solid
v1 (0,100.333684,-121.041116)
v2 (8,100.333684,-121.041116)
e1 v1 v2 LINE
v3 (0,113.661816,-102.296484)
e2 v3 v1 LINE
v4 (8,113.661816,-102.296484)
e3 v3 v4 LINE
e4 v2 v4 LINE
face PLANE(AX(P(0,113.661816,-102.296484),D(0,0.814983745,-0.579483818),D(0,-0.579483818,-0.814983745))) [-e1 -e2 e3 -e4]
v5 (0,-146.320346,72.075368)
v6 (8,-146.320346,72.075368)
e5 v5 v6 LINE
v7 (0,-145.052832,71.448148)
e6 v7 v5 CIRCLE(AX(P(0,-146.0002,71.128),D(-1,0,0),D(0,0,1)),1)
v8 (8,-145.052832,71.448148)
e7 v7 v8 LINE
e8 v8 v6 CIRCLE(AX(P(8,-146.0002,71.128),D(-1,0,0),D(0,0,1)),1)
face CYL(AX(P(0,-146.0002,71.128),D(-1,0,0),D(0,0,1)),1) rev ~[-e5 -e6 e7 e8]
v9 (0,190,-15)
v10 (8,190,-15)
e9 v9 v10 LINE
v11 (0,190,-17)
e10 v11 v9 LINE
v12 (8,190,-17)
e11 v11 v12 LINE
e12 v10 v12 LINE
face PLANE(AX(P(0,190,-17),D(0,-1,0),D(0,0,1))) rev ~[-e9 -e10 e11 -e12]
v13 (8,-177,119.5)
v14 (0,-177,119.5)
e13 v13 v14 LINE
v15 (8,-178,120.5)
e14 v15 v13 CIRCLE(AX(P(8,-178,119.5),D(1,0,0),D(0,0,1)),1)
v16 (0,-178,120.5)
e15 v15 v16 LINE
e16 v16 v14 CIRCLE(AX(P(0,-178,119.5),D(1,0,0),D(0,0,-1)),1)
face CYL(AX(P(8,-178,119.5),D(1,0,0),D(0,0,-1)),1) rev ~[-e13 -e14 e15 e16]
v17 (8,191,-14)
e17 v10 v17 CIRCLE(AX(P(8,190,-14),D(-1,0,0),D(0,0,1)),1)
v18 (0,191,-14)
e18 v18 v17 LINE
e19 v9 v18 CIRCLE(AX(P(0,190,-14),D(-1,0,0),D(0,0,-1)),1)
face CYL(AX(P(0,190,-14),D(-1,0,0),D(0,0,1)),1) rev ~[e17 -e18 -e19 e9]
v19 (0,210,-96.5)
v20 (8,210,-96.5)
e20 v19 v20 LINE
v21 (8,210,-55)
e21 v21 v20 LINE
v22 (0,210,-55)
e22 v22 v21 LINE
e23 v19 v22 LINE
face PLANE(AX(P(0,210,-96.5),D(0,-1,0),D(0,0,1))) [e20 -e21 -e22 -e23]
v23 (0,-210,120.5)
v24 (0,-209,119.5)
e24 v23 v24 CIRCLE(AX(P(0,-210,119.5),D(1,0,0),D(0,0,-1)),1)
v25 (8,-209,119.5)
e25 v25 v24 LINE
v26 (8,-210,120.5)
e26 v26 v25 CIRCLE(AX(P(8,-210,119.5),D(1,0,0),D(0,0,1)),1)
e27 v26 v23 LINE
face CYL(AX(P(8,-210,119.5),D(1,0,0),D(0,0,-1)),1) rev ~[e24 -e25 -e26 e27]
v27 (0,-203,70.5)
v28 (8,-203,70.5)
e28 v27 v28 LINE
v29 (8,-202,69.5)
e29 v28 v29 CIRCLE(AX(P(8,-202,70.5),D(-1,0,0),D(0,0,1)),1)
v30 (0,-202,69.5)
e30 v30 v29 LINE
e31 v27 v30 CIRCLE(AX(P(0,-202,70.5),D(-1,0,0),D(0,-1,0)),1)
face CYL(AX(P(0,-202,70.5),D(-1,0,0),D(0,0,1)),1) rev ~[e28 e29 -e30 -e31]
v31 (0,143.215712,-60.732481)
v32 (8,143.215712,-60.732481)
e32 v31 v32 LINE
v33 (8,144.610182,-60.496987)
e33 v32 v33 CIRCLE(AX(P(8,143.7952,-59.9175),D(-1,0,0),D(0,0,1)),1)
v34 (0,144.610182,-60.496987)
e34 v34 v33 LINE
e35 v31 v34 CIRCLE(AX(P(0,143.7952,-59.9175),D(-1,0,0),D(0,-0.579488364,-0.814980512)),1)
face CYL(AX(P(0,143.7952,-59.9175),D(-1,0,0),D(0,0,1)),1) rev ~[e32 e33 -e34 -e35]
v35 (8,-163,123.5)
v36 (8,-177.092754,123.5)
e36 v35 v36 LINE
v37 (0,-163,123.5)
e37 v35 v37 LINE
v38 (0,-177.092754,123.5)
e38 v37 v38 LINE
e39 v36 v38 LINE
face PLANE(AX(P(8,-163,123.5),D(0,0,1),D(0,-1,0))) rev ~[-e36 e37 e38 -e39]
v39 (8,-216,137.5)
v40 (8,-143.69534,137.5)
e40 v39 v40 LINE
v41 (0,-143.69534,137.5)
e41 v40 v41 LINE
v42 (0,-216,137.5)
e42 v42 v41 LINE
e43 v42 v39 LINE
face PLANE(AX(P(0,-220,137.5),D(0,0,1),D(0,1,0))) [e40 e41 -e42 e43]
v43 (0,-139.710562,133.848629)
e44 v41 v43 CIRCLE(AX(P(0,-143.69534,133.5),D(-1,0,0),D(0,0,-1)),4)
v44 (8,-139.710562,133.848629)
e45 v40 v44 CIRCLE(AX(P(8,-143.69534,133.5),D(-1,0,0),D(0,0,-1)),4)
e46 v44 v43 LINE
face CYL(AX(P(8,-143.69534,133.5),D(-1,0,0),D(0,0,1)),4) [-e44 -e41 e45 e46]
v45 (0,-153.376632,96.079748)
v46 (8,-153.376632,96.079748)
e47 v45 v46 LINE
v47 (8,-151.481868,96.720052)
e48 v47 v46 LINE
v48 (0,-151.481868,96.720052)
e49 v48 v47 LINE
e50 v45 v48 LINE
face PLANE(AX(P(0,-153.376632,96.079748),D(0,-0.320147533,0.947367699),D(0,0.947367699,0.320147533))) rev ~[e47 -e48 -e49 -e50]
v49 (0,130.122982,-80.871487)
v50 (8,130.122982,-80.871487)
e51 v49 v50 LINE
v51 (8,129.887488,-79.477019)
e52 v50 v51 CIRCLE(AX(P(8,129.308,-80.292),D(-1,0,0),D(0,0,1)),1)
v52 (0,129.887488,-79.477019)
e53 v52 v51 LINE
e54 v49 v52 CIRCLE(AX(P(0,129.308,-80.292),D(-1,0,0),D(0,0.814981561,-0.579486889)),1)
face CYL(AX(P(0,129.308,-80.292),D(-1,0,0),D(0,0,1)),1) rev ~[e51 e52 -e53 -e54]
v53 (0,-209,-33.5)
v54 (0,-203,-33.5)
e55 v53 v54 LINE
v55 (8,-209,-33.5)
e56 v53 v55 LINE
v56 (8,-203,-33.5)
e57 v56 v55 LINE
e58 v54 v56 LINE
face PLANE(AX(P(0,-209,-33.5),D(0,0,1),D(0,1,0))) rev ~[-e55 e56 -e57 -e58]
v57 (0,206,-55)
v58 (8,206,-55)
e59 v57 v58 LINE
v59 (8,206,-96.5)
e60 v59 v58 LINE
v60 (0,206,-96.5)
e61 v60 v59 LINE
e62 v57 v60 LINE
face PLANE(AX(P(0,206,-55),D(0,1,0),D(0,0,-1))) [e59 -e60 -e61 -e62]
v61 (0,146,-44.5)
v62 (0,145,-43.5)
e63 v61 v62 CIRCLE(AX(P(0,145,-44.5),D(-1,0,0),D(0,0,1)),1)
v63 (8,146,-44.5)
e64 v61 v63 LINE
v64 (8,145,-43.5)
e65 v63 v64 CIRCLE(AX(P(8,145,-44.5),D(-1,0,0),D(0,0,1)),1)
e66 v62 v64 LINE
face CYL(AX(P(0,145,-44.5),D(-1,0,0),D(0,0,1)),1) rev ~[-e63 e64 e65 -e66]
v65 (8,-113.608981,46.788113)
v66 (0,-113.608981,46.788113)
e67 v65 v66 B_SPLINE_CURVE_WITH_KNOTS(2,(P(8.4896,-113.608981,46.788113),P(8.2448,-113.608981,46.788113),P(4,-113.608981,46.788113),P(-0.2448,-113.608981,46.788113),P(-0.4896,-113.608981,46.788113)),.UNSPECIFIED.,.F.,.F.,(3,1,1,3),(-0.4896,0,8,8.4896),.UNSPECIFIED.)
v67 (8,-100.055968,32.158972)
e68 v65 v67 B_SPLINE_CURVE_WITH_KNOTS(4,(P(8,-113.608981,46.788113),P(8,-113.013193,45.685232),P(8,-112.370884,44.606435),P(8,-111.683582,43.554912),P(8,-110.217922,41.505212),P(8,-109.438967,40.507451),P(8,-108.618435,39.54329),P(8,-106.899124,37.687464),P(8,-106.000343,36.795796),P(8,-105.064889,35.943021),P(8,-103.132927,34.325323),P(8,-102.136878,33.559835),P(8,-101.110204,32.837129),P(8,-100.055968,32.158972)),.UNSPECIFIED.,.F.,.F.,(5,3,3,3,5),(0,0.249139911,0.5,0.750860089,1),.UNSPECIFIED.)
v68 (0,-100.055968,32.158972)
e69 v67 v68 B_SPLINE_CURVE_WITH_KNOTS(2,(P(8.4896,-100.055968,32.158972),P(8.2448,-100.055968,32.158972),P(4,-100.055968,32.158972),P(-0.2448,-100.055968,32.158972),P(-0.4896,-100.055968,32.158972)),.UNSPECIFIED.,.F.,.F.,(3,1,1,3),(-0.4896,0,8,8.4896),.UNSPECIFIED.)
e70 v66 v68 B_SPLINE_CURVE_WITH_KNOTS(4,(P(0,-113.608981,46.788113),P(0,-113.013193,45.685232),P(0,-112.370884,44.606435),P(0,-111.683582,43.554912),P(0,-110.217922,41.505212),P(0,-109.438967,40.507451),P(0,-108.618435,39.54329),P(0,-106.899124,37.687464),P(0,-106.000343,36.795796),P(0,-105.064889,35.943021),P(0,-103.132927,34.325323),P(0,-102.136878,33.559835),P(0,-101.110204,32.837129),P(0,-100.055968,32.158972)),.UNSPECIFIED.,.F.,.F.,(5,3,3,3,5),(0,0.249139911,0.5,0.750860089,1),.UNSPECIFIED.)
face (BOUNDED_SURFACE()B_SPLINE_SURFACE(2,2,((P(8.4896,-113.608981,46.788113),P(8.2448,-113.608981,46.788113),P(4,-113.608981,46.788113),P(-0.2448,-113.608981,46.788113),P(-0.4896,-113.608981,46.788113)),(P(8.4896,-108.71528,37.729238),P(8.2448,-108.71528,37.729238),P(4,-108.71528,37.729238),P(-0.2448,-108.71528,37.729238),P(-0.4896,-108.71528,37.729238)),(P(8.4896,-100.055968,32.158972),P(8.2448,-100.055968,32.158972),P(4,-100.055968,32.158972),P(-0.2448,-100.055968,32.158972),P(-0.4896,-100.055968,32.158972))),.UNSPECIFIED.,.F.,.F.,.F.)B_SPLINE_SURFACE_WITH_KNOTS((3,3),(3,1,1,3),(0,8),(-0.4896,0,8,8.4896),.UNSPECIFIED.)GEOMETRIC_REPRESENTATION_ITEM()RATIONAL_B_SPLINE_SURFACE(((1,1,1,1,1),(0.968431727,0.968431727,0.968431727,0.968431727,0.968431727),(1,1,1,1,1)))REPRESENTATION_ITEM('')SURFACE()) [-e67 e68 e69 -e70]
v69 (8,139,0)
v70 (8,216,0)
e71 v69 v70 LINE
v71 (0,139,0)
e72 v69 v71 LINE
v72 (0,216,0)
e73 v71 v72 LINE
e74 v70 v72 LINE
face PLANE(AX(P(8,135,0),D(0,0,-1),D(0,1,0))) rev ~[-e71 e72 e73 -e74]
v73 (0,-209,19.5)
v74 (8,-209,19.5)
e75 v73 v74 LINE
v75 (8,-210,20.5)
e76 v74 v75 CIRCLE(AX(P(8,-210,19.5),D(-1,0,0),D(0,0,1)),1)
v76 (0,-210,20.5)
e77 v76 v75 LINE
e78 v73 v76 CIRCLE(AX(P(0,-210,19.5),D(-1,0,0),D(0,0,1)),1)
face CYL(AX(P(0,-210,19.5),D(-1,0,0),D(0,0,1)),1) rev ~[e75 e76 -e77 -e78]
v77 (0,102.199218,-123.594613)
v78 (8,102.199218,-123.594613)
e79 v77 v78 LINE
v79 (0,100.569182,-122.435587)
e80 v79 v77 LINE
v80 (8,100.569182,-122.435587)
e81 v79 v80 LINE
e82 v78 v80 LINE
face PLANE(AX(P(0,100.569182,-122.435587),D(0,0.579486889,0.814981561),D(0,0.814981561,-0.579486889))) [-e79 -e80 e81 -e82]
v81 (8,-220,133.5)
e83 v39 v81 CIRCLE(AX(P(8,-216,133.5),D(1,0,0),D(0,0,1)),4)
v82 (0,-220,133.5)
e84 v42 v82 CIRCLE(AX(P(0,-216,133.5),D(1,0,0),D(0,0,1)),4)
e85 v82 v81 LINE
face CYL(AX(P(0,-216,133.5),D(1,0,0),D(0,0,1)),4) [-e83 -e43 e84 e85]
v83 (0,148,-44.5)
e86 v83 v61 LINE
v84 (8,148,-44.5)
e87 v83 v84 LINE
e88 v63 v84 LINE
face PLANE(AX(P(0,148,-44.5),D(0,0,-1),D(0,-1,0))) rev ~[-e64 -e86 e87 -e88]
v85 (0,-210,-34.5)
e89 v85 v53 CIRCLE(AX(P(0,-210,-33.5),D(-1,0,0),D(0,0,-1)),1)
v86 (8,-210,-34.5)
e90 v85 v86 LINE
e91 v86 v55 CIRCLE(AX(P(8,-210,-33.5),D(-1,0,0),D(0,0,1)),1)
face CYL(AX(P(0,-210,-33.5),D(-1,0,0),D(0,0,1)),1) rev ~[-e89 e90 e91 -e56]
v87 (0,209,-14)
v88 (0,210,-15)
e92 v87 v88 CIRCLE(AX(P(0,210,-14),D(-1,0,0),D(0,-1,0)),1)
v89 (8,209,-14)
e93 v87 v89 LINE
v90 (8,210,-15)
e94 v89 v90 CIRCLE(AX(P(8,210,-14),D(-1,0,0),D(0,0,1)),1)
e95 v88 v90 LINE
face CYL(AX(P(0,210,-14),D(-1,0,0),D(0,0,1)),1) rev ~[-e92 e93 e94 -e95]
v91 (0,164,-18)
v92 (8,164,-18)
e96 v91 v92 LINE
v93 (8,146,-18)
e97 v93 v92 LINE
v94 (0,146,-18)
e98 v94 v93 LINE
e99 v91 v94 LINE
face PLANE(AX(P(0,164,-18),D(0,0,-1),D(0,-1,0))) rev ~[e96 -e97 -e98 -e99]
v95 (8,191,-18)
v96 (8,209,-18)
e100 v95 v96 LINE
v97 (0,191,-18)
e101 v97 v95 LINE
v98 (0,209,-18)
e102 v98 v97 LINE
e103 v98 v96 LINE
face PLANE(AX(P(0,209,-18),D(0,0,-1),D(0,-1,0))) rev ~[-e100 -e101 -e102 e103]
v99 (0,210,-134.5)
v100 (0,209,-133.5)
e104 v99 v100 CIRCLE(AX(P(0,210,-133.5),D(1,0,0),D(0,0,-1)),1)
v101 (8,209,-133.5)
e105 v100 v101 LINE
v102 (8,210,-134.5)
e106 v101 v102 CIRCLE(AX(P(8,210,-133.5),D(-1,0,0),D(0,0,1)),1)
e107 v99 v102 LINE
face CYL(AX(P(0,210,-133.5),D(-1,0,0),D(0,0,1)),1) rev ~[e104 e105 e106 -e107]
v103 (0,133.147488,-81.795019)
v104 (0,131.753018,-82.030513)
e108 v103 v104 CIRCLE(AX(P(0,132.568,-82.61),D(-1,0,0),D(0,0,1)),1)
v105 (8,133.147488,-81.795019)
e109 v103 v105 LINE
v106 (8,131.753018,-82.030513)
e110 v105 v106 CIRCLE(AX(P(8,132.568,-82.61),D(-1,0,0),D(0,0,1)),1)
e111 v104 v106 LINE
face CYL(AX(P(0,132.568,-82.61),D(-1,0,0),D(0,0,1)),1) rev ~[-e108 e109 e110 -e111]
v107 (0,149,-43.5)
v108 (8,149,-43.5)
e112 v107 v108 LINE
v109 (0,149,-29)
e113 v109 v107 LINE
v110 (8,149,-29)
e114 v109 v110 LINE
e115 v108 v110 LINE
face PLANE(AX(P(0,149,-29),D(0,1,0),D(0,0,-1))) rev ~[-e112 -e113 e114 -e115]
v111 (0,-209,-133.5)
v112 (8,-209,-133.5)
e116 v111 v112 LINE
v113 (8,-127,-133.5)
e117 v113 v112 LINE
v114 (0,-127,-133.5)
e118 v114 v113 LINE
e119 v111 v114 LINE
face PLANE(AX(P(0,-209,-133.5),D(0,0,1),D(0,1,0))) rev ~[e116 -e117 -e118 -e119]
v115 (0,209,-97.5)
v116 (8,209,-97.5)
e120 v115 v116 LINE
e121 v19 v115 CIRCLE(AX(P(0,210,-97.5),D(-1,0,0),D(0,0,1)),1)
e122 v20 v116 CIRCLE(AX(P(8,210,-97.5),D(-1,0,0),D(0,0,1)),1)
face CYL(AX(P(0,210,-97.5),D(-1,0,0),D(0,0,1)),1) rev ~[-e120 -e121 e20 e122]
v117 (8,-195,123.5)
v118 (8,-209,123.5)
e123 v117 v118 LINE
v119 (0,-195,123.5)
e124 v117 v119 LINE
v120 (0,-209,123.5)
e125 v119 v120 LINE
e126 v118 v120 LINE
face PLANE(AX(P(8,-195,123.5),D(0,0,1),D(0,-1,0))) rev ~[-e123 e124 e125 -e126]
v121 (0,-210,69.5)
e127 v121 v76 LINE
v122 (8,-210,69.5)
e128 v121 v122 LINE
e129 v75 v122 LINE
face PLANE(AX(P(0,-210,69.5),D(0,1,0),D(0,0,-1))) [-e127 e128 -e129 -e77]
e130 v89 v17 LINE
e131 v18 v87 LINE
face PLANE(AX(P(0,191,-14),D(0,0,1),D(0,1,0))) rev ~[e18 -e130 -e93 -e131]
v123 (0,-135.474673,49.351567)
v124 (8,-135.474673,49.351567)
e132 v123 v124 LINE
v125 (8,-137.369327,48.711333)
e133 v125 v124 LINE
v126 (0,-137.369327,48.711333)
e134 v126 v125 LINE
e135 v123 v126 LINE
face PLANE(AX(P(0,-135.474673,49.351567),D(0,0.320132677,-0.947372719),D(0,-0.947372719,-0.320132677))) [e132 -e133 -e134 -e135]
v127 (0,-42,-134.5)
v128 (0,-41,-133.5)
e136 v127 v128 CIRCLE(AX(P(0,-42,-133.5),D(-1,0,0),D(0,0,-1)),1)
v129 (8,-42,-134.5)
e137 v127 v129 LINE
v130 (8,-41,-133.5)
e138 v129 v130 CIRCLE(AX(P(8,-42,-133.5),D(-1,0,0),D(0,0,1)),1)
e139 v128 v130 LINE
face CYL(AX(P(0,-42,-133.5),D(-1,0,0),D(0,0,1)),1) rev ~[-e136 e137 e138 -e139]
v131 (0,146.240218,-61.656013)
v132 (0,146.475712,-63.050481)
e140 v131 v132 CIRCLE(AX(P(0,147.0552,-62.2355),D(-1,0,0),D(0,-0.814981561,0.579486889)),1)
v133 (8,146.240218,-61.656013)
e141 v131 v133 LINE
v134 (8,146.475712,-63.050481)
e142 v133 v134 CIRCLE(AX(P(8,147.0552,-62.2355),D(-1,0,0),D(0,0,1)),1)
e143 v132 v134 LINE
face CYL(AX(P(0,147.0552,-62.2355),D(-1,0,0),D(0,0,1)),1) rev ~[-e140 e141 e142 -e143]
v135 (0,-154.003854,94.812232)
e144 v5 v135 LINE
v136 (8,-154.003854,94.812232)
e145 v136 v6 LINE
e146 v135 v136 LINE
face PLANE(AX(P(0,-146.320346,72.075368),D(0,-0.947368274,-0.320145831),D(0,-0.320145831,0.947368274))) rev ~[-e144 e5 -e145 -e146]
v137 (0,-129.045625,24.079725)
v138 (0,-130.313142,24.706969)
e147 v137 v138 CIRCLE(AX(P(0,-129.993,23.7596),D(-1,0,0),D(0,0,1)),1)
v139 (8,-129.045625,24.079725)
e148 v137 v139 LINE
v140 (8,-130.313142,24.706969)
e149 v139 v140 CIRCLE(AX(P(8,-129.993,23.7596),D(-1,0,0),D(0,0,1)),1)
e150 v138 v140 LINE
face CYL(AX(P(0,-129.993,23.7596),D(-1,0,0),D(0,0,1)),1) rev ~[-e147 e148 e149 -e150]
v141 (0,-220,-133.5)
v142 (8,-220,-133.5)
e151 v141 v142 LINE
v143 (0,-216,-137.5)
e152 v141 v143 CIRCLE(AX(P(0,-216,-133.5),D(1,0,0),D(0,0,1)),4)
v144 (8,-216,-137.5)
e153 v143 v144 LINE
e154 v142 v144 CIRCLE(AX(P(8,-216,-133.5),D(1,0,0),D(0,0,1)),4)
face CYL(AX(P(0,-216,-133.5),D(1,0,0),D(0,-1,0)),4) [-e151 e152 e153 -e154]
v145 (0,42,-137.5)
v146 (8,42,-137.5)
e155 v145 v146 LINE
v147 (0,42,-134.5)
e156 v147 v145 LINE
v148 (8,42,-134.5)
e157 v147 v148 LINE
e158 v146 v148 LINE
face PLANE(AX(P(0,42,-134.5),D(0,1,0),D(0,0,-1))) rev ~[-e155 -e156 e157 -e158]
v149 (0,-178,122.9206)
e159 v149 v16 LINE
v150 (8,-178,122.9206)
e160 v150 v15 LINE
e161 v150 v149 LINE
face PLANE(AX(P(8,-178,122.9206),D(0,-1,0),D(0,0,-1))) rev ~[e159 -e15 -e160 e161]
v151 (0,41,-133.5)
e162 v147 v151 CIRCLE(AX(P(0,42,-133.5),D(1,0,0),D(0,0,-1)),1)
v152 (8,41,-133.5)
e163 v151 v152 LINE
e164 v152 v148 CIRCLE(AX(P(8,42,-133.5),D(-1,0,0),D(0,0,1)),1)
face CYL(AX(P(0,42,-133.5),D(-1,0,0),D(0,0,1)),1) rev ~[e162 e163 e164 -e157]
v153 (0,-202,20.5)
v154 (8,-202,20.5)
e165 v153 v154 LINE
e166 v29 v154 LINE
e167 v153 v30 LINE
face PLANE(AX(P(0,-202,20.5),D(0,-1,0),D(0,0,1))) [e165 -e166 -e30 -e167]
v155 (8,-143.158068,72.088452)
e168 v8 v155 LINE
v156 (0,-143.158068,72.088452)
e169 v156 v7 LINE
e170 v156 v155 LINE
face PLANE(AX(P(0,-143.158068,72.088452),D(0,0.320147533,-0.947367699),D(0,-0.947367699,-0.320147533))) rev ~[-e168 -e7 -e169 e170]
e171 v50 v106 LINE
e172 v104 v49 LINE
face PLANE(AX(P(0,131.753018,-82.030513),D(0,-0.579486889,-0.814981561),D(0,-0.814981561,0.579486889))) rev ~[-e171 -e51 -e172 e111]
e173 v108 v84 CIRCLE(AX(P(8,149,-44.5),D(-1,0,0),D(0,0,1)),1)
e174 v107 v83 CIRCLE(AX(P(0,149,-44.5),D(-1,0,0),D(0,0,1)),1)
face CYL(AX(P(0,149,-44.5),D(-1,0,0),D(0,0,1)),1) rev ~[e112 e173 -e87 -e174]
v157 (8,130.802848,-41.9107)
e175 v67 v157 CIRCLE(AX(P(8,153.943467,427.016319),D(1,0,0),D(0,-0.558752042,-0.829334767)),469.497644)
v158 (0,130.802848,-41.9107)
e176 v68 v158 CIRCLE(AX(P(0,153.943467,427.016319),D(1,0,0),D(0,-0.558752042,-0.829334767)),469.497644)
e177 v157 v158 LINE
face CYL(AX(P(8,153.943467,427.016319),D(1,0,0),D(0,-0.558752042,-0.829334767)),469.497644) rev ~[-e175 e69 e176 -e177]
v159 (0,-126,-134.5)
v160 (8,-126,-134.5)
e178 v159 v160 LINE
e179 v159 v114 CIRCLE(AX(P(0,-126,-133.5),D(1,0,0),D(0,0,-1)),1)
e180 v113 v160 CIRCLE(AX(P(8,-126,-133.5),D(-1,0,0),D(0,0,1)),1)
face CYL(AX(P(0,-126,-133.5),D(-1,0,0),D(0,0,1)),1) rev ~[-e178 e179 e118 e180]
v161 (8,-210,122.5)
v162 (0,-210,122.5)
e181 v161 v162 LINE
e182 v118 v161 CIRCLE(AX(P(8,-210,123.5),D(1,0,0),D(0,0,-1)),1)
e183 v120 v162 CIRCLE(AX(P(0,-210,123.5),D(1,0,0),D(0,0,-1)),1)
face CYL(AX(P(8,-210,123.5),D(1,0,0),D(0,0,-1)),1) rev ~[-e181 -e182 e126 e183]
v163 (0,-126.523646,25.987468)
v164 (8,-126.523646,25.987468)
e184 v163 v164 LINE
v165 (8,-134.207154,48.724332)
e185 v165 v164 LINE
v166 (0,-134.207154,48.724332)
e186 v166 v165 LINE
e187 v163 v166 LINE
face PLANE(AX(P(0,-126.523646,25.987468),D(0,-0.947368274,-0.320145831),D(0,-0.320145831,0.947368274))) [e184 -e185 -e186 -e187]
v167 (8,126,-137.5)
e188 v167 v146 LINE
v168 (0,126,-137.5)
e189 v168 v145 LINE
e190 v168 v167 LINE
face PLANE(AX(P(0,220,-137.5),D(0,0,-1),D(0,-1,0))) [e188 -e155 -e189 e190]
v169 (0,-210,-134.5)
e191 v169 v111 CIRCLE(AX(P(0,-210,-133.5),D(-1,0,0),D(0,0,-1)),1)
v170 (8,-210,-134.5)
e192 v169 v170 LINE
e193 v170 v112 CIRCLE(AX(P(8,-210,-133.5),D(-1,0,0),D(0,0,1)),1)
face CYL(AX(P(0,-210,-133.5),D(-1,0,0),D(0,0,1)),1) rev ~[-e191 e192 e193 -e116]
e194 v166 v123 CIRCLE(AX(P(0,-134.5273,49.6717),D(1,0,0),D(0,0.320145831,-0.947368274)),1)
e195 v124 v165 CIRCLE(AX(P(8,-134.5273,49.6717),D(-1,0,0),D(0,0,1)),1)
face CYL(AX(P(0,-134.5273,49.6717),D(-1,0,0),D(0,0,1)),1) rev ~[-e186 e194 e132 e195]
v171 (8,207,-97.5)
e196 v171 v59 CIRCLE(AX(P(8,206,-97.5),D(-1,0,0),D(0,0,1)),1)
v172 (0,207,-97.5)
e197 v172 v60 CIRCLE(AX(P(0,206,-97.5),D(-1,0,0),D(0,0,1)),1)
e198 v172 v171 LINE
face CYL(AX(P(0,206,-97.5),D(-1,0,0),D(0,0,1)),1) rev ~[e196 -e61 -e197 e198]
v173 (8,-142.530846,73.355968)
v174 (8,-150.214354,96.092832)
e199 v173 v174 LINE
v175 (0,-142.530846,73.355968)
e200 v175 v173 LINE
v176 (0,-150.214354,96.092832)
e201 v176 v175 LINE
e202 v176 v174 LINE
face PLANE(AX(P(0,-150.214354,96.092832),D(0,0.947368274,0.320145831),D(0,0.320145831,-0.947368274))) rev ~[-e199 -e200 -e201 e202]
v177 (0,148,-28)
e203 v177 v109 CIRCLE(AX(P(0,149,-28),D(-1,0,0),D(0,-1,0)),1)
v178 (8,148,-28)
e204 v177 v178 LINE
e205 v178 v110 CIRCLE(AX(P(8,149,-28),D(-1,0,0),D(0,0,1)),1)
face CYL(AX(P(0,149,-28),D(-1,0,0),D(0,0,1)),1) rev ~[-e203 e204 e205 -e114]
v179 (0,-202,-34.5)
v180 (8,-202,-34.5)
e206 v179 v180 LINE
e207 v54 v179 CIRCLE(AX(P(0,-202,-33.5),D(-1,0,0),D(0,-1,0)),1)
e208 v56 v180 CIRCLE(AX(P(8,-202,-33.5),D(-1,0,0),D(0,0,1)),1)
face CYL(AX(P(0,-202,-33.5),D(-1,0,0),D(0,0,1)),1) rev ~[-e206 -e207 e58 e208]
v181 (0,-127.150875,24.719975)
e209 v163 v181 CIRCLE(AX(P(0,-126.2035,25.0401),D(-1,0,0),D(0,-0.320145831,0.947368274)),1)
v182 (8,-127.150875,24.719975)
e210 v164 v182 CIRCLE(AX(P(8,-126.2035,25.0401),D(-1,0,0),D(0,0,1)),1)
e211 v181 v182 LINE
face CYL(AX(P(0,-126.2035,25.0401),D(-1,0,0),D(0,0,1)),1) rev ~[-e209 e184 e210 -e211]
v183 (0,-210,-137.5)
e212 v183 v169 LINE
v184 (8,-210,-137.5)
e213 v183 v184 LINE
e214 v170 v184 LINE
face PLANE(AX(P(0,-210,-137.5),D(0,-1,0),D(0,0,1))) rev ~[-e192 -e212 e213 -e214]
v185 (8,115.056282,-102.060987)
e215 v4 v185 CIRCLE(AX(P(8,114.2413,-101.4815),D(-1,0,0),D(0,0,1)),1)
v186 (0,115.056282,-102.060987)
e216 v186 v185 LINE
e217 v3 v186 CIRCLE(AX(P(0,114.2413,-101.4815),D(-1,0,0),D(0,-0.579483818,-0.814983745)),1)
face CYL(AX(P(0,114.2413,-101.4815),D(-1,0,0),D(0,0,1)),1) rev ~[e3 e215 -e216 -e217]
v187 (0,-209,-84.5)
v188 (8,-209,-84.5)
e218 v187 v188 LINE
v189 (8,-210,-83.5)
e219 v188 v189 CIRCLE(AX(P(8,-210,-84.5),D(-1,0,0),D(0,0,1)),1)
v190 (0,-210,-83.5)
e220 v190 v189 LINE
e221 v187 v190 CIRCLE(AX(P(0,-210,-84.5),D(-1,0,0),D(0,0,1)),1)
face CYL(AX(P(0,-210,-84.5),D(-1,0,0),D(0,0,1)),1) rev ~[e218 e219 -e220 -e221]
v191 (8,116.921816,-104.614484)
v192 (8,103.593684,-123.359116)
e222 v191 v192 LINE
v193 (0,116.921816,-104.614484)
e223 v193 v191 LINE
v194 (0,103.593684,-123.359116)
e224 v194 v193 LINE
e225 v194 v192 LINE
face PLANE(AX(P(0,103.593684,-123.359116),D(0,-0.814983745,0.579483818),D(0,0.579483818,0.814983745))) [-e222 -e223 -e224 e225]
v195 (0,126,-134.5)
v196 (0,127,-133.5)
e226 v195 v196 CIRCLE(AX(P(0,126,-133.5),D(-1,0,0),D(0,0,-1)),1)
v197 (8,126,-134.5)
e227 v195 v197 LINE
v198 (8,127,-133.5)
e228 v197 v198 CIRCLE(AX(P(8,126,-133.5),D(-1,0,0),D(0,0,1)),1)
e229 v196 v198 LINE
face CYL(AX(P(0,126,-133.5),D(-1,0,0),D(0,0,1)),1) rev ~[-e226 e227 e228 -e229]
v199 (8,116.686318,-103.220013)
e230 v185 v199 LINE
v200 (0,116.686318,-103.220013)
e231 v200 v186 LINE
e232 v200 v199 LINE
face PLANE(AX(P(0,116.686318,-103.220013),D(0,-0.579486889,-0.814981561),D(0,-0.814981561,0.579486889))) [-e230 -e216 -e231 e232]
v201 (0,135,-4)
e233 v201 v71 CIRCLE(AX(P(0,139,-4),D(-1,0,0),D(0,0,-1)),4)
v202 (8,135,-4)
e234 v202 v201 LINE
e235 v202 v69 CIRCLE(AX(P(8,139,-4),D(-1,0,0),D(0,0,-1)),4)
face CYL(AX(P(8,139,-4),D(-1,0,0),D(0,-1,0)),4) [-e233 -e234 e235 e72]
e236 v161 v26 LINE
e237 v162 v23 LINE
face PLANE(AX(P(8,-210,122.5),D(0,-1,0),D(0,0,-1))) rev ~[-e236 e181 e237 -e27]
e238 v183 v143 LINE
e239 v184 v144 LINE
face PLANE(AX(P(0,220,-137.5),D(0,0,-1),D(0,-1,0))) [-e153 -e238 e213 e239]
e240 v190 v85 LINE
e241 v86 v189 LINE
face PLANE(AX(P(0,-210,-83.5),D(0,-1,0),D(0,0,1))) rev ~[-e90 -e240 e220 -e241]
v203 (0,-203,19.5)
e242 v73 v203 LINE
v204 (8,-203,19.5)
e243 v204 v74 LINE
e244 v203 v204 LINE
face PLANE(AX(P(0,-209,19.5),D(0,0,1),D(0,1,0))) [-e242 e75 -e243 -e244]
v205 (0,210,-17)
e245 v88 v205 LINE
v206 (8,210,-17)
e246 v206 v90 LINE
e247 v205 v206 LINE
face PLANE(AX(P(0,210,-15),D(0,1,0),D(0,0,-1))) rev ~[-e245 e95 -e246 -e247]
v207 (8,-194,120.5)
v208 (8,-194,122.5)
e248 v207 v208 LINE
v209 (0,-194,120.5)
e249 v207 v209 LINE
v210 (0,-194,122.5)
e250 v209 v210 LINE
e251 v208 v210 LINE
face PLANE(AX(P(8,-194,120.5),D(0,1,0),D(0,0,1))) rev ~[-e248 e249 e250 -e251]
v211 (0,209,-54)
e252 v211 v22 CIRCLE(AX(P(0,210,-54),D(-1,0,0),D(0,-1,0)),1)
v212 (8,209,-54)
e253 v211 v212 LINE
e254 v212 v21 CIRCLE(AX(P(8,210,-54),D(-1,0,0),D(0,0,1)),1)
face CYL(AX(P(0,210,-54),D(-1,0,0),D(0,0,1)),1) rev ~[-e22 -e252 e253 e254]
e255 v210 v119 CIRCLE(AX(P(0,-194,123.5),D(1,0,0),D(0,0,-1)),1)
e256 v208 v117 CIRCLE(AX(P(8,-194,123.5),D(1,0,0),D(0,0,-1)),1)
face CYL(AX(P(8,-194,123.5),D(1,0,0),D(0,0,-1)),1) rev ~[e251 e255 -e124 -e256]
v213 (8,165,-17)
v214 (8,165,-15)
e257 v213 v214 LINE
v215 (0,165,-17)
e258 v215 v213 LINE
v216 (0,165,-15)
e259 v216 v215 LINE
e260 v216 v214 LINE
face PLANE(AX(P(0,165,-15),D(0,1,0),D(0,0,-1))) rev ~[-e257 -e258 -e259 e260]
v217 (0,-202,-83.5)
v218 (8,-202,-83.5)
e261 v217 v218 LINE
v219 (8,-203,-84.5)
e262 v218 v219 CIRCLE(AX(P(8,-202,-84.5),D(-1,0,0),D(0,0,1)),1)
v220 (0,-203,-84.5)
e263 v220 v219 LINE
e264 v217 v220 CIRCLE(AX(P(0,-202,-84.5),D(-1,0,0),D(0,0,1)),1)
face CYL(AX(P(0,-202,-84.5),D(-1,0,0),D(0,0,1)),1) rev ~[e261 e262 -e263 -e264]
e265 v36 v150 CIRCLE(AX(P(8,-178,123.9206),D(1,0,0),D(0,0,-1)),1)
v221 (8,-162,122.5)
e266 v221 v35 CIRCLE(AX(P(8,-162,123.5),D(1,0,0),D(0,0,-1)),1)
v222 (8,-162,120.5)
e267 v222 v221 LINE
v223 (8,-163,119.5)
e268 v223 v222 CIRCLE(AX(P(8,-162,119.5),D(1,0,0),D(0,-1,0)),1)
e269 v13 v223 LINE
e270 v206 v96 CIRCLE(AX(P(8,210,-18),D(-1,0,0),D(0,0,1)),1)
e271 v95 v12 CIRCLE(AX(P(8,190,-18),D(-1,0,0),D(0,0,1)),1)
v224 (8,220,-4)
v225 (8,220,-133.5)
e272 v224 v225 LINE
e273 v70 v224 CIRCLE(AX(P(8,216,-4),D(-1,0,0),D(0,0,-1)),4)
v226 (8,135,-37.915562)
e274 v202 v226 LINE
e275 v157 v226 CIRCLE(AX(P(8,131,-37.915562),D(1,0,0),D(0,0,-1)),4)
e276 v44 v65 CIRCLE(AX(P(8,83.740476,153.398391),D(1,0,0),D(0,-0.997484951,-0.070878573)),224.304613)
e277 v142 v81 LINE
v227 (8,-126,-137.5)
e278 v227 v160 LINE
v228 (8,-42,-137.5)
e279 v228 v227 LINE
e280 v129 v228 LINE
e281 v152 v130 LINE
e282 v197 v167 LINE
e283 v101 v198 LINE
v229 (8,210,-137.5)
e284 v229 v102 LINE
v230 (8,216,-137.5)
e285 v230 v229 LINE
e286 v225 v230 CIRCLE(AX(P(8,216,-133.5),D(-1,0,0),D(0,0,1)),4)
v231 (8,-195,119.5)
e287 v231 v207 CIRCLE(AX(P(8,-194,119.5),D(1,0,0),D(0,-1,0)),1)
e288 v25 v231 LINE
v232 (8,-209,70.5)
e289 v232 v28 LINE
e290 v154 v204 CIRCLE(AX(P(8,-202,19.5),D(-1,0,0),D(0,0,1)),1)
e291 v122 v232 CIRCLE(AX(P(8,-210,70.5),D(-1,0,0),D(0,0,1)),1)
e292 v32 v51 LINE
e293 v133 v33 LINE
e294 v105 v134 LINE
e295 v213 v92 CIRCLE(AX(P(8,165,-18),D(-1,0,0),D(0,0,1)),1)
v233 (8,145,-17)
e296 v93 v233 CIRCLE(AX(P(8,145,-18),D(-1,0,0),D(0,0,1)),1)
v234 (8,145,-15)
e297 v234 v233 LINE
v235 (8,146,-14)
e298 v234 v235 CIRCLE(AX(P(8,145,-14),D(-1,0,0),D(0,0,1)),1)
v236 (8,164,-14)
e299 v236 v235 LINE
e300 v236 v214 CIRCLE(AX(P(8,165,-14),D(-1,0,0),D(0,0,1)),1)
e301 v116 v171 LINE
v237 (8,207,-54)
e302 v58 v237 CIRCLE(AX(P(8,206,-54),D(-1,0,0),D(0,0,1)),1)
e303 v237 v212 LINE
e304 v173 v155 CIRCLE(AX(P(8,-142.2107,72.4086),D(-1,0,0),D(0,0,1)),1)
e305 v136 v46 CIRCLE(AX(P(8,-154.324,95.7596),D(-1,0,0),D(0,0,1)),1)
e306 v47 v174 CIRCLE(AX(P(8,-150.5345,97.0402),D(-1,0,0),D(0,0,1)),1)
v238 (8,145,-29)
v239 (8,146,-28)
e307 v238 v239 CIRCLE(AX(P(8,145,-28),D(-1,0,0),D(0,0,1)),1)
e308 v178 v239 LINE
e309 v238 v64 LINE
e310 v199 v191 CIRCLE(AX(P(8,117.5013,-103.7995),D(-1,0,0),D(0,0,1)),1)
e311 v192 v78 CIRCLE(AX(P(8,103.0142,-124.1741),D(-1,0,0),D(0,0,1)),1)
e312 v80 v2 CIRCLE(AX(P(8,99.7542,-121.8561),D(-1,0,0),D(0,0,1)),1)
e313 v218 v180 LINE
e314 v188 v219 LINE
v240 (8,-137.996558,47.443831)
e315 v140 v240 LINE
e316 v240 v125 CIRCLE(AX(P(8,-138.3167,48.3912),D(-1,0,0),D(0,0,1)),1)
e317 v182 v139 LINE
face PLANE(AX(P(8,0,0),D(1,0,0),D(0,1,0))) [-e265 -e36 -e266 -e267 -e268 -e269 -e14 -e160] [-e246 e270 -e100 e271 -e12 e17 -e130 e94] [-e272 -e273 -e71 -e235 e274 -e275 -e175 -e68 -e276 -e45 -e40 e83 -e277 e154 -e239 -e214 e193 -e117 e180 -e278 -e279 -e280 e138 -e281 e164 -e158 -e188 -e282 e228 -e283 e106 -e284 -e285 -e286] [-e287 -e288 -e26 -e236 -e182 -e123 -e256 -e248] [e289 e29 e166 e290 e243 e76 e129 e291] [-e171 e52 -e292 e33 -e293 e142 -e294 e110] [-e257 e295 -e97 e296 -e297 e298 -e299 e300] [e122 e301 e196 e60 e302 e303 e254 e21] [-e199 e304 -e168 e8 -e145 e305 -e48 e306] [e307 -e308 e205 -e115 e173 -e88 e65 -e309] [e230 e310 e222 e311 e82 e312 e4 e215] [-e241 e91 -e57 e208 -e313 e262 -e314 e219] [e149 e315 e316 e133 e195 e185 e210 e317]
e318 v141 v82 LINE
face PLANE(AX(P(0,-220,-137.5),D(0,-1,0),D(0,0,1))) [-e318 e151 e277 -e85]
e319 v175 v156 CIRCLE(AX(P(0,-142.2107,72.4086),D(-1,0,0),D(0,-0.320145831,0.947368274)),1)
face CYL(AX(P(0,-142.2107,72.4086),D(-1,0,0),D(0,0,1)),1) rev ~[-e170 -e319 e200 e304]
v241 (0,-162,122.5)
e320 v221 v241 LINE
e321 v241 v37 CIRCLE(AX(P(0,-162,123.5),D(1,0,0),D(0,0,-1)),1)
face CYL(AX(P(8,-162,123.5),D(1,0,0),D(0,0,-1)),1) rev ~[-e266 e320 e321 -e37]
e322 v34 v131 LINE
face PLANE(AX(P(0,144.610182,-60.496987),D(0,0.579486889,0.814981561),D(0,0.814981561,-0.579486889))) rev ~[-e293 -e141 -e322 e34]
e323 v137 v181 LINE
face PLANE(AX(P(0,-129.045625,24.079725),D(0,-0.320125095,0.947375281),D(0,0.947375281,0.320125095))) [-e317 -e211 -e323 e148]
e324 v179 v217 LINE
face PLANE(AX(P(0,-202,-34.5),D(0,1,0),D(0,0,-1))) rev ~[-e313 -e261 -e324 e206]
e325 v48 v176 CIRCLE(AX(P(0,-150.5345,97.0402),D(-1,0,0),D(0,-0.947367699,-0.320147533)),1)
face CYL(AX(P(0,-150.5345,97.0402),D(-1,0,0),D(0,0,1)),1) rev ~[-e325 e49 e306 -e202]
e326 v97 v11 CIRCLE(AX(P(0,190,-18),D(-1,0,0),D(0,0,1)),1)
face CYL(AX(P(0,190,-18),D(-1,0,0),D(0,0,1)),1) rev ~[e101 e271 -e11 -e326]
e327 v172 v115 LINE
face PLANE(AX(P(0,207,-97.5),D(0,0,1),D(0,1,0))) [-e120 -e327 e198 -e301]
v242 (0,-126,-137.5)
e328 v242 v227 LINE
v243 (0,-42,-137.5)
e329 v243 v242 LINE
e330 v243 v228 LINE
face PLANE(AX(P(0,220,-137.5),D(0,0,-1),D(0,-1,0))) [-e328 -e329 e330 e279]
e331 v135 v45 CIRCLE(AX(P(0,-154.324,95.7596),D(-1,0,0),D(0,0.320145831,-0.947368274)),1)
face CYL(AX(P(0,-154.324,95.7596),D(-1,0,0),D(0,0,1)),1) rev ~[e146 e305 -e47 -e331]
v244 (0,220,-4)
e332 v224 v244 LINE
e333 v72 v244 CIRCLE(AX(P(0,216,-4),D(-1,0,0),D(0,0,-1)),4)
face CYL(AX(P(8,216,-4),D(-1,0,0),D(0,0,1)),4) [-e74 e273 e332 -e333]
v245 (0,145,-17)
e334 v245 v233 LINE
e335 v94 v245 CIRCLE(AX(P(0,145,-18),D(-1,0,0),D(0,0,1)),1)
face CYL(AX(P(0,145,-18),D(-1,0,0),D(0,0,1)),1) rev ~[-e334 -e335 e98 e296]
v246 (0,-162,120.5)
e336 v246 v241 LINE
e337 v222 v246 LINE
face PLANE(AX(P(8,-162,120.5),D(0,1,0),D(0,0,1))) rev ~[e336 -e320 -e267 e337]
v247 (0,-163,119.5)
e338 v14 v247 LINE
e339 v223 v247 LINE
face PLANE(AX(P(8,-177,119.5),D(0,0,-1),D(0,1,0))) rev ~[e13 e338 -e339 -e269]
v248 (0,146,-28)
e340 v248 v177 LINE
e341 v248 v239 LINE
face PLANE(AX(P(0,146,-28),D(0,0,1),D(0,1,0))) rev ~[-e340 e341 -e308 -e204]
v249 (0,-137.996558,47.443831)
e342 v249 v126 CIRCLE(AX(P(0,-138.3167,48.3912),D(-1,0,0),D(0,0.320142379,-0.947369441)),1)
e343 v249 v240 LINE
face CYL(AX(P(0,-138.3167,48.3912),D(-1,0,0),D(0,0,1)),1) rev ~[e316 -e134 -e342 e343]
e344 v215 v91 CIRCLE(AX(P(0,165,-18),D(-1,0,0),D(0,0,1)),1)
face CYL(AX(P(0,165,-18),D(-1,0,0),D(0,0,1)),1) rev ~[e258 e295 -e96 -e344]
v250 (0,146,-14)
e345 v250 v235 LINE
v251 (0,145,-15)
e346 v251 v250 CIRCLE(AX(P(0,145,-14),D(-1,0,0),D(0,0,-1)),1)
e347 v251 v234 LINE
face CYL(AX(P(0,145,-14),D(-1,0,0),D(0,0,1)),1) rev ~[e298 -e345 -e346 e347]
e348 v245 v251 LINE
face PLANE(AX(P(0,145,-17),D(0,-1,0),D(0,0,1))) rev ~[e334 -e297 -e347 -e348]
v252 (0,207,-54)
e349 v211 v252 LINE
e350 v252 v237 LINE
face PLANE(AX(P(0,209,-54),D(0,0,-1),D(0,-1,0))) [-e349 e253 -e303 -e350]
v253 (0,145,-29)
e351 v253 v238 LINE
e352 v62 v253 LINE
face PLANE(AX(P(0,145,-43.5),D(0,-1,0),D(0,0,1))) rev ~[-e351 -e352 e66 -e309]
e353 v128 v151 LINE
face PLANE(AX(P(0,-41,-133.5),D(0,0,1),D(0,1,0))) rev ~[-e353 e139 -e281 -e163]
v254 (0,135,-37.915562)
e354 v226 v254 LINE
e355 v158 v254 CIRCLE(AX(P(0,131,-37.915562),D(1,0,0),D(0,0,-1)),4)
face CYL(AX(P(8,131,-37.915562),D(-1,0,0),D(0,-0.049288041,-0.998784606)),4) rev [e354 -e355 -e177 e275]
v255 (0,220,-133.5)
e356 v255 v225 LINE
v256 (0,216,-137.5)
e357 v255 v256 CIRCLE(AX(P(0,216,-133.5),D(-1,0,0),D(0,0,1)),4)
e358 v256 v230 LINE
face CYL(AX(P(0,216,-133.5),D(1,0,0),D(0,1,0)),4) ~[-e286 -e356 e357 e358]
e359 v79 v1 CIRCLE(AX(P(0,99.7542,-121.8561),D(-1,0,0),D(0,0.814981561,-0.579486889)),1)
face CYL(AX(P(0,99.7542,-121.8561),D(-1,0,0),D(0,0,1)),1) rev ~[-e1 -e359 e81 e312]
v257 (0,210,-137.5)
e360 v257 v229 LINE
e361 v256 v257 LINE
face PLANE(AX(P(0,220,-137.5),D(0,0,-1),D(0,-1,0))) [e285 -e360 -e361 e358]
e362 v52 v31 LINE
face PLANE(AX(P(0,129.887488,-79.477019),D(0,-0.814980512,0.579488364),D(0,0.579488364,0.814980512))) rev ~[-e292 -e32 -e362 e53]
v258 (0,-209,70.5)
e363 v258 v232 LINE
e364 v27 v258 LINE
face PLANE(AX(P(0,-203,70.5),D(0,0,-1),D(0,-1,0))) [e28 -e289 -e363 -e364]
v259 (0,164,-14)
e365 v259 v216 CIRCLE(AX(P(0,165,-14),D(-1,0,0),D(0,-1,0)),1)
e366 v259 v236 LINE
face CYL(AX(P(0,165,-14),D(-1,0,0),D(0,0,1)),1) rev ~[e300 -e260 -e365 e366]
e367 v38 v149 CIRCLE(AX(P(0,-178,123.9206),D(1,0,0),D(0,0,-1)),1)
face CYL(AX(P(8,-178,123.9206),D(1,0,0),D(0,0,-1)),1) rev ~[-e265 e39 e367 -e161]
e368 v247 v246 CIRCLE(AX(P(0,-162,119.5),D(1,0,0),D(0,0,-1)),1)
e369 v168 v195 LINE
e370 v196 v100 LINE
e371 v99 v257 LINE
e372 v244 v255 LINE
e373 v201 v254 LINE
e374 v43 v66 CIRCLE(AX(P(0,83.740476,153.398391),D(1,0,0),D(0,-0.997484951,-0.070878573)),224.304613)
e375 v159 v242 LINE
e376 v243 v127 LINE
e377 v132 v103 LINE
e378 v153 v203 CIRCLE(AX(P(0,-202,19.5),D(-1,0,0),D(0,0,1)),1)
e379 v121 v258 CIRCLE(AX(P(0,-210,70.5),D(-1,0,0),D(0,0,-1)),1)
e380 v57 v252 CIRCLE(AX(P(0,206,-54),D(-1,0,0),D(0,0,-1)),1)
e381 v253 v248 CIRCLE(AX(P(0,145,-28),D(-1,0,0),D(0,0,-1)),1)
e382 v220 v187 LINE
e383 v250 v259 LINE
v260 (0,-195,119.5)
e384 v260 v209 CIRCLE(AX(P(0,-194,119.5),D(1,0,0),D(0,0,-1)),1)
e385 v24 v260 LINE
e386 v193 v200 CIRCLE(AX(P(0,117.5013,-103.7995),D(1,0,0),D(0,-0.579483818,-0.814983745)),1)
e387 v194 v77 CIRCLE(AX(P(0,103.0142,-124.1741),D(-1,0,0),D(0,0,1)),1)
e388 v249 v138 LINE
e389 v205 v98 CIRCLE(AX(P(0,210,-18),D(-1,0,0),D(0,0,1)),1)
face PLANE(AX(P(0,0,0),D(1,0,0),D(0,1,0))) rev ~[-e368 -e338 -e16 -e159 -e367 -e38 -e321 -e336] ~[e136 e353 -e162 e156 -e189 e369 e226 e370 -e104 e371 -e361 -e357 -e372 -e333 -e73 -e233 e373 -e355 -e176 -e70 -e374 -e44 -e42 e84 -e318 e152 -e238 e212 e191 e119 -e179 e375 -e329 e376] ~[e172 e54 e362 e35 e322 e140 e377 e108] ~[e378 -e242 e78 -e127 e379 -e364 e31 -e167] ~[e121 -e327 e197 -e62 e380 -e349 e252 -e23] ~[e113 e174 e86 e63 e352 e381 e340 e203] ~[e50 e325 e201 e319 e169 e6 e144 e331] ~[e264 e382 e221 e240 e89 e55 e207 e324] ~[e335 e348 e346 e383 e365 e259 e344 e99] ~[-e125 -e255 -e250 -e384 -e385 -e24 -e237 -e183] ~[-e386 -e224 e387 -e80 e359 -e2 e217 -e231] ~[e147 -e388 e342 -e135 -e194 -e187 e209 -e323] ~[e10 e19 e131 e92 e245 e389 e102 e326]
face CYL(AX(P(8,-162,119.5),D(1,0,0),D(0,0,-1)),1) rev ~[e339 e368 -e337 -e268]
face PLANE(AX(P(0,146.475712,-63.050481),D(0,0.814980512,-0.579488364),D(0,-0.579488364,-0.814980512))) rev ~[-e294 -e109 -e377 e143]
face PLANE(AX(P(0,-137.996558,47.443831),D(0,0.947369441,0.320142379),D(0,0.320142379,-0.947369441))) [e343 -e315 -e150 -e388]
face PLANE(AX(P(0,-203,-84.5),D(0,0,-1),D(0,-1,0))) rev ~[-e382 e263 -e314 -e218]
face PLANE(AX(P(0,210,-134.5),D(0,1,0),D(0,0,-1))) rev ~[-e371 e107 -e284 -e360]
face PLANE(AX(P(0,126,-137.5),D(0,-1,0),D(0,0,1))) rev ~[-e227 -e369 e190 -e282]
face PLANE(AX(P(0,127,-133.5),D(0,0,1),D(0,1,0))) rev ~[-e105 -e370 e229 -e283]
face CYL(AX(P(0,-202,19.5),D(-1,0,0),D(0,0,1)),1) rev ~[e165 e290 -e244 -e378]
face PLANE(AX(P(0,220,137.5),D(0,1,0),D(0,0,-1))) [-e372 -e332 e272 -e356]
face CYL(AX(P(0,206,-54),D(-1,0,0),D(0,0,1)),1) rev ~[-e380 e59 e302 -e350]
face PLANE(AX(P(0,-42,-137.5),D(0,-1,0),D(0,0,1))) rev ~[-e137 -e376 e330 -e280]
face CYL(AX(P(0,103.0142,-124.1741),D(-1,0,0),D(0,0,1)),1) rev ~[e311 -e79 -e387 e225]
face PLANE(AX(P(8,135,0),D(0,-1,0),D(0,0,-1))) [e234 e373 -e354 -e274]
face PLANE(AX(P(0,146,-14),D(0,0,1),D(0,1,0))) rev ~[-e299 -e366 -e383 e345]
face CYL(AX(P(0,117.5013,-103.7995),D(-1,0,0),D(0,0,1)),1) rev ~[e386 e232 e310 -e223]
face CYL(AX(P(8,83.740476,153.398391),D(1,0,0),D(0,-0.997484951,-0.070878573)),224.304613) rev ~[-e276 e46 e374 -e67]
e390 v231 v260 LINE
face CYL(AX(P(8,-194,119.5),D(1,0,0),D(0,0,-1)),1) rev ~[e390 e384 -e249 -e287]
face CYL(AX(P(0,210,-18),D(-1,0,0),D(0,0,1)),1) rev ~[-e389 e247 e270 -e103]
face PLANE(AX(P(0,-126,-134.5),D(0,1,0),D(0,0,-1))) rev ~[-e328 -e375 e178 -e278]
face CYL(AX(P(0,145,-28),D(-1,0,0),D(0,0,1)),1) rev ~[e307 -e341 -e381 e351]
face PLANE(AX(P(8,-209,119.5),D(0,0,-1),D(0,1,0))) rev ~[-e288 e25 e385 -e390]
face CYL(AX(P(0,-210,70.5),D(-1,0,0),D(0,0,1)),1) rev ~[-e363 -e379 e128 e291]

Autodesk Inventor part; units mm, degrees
ref_plane "YZ Plane" through (0, 0, 0) normal (1, 0, 0) x (0, 1, 0)
ref_plane "XZ Plane" through (0, 0, 0) normal (0, 1, 0) x (-1, 0, 0)
ref_plane "XY Plane" through (0, 0, 0) normal (0, 0, 1) x (1, 0, 0)
sketch "Esboço1" plane through (0, 0, 0) normal (1, 0, 0) x (0, 1, 0)
  line L0 (-220, 137.5) -> (220, 137.5)
  line L1 (220, 137.5) -> (220, -137.5)
  line L2 (220, -137.5) -> (-220, -137.5)
  line L3 (-220, -137.5) -> (-220, 137.5)
  point P0 (0, 0)
  point P1 (220, 0)
  point P2 (0, -137.5)
  dimension "d0" = 440
  dimension "d1" = 275
extrude "Extrusão1" add sketch "Esboço1" along normal blind 8
sketch "Esboço2" plane through (8, 0, 0) normal (1, 0, 0) x (0, 0, -1)
  line L0 (124.1566, 220.0243) -> (0, 220)
  line L1 (137.5, 220) -> (-137.5, 220) projected
  line L2 (0, 135) -> (42.099, 135)
  line L3 (0, 135) -> (0, 220)
  line L4 (-137.5, -220) -> (137.5, -220) projected
  line L5 (137.5, 220) -> (137.5, -220)
  line L6 (137.5, -220) -> (-137.5, -220)
  line L7 (-137.5, -220) -> (-137.5, -140)
  line L8 (-137.5, 220) -> (-137.5, -220) projected
  arc A0 (-137.5, -140) -> (-37.6456, -108.3893) centre (-153.3983, 83.74) ccw
  arc A1 (-37.6456, -108.3893) -> (42.099, 135) centre (-427.017, 153.9438) ccw
  line L9 (137.5, -220) -> (137.5, 220) projected
  line L10 (137.5, -120) -> (-12.5, -120)
  line L11 (-12.5, -120) -> (-127.5, -163)
  line L12 (-127.5, -163) -> (-127.5, -210)
  line L13 (-127.5, -210) -> (137.5, -210)
  line L14 (10, 145) -> (50.5, 145)
  line L15 (50.5, 145) -> (137.5, 98)
  line L16 (137.5, 98) -> (137.5, 210)
  line L17 (10, 210) -> (10, 145)
  line L18 (10, 210) -> (137.5, 210)
  line L19 (137.5, 98) -> (137.5, 210)
  point P0 (0, 0)
  dimension "d8" = 137.5
  dimension "d9" = 275
  dimension "d10" = 80
  dimension "d11" = 85
  dimension "d12" = 10
  dimension "d13" = 10
  dimension "d14" = 10
  dimension "d15" = 65
  dimension "d16" = 150
  dimension "d17" = 10
  dimension "d18" = 10
  dimension "d19" = 90
  dimension "d20" = 115
  dimension "d21" = 47
  dimension "d22" = 112
  dimension "d23" = 87
  dimension "d24" = 420
  dimension "d25" = 40.5
extrude "Extrusão2" cut sketch "Esboço2" against normal blind 10 contours L3 L2 A1 A0 L8 L1
fillet "Arredondamento1" radius 4 7 edges at (4, 135, 0) (4, 135, -42.099) (4, 220, 0) (4, 220, -137.5) (4, -140, 137.5) (4, -220, 137.5) (4, -220, -137.5)
fillet "Arredondamento2" radius 40 1 edges at (4, -108.3893, 37.6456)
sketch "Esboço3" plane through (0, 0, 0) normal (-1, 0, 0) x (0, 0, 1)
  point P0 (0, 0)
sketch "Esboço4" plane through (0, 0, 0) normal (-1, 0, 0) x (0, 0, 1)
  point P0 (0, 0)
sketch "Esboço5" plane through (8, 0, 0) normal (1, 0, 0) x (0, 0, -1)
  line L0 (-123.5, -210) -> (-119.5, -210)
  line L1 (-119.5, -210) -> (-119.5, -194)
  line L2 (-119.5, -194) -> (-123.5, -194)
  line L3 (-123.5, -194) -> (-123.5, -210)
  line L4 (-137.5, -143.6953) -> (-137.5, -216) projected
  line L5 (-133.5, -220) -> (133.5, -220) projected
  circle A0 centre (-123.5, -194) radius 1
  circle A1 centre (-119.5, -194) radius 1
  circle A2 centre (-123.5, -210) radius 1
  circle A3 centre (-119.5, -210) radius 1
  line L6 (-123.5, -178) -> (-119.5, -178)
  line L7 (-119.5, -178) -> (-119.5, -162)
  line L8 (-119.5, -162) -> (-123.5, -162)
  line L9 (-123.5, -162) -> (-123.5, -178)
  circle A4 centre (-119.5, -178) radius 1
  circle A5 centre (-123.9206, -178) radius 1
  circle A6 centre (-123.5, -162) radius 1
  circle A7 centre (-119.5, -162) radius 1
  point P0 (0, 0)
  dimension "d26" = 14
  dimension "d27" = 10
  dimension "d28" = 4
  dimension "d29" = 16
  dimension "d30" = 2
  dimension "d31" = 2
  dimension "d32" = 2
  dimension "d33" = 2
  dimension "d36" = 4
  dimension "d37" = 16
  dimension "d38" = 16
  dimension "d39" = 2
  dimension "d40" = 2
  dimension "d41" = 2
  dimension "d42" = 2
extrude "Extrusão3" cut sketch "Esboço5" against normal blind 10
sketch "Esboço6" plane through (0, 0, 0) normal (-1, 0, 0) x (0, 0, 1)
  line L0 (-133.5, -220) -> (133.5, -220) projected
  line L1 (137.5, -216) -> (137.5, -143.6953) projected
  line L2 (119.777, -158.218) -> (118.4964, -162.0075)
  line L3 (1.0227, -122.3095) -> (2.3033, -118.52)
  line L4 (95.7596, -154.324) -> (97.0402, -150.5345)
  line L5 (72.4086, -142.2107) -> (71.128, -146.0002)
  line L6 (49.6717, -134.5273) -> (48.3912, -138.3167)
  line L7 (48.3912, -138.3167) -> (23.7596, -129.993)
  line L8 (25.0401, -126.2035) -> (49.6717, -134.5273)
  line L9 (71.128, -146.0002) -> (95.7596, -154.324)
  line L10 (97.0402, -150.5345) -> (72.4086, -142.2107)
  line L11 (23.7596, -129.993) -> (25.0401, -126.2035)
  circle A0 centre (71.128, -146.0002) radius 1
  circle A1 centre (72.4086, -142.2107) radius 1
  circle A2 centre (95.7596, -154.324) radius 1
  circle A3 centre (97.0402, -150.5345) radius 1
  circle A4 centre (48.3912, -138.3167) radius 1
  circle A5 centre (49.6717, -134.5273) radius 1
  circle A6 centre (23.7596, -129.993) radius 1
  circle A7 centre (25.0401, -126.2035) radius 1
  point P0 (0, 0)
  dimension "d43" = 61.782
  dimension "d44" = 17.723
  dimension "d45" = 101.48
  dimension "d47" = 4
  dimension "d50" = 24
  dimension "d51" = 26
  dimension "d52" = 26
  dimension "d53" = 24
  dimension "d54" = 2
  dimension "d55" = 2
  dimension "d56" = 2
  dimension "d57" = 2
  dimension "d58" = 2
  dimension "d59" = 2
  dimension "d60" = 2
  dimension "d61" = 2
extrude "Extrusão4" cut sketch "Esboço6" against normal blind 10
sketch "Esboço7" plane through (0, 0, 0) normal (-1, 0, 0) x (0, 0, 1)
  line L0 (-137.5, 216) -> (-137.5, -216) projected
  line L1 (-137.5, -210) -> (-133.5, -210)
  line L2 (-133.5, -210) -> (-133.5, -126)
  line L3 (-133.5, -126) -> (-137.5, -126)
  line L4 (-137.5, -126) -> (-137.5, -210)
  line L5 (-133.5, -220) -> (133.5, -220) projected
  line L6 (-137.5, -216) -> (-137.5, 216) projected
  line L7 (-137.5, -42) -> (-133.5, -42)
  line L8 (-133.5, -42) -> (-133.5, 42)
  line L9 (-133.5, 42) -> (-137.5, 42)
  line L10 (-137.5, 42) -> (-137.5, -42)
  line L11 (-137.5, 126) -> (-133.5, 126)
  line L12 (-133.5, 126) -> (-133.5, 210)
  line L13 (-133.5, 210) -> (-137.5, 210)
  line L14 (-137.5, 210) -> (-137.5, 126)
  circle A0 centre (-133.5, 210) radius 1
  circle A1 centre (-133.5, 126) radius 1
  circle A2 centre (-133.5, 42) radius 1
  circle A3 centre (-133.5, -42) radius 1
  circle A4 centre (-133.5, -126) radius 1
  circle A5 centre (-133.5, -210) radius 1
  point P0 (0, 0)
  dimension "d62" = 4
  dimension "d63" = 84
  dimension "d64" = 10
  dimension "d65" = 4
  dimension "d66" = 84
  dimension "d67" = 84
  dimension "d68" = 84
  dimension "d69" = 84
  dimension "d70" = 2
  dimension "d71" = 2
  dimension "d72" = 2
  dimension "d73" = 2
  dimension "d74" = 2
  dimension "d75" = 2
extrude "Extrusão5" cut sketch "Esboço7" against normal blind 10
sketch "Esboço8" plane through (0, 0, 0) normal (-1, 0, 0) x (0, 0, 1)
  line L0 (-97.5, 210) -> (-54, 210)
  line L1 (-54, 210) -> (-54, 206)
  line L2 (-54, 206) -> (-97.5, 206)
  line L3 (-97.5, 206) -> (-97.5, 210)
  line L4 (-4, 220) -> (-133.5, 220) projected
  line L5 (-137.5, 216) -> (-137.5, 210) projected
  circle A0 centre (-97.5, 210) radius 1
  circle A1 centre (-97.5, 206) radius 1
  circle A2 centre (-54, 210) radius 1
  circle A3 centre (-54, 206) radius 1
  point P0 (0, 0)
  dimension "d78" = 10
  dimension "d79" = 4
  dimension "d80" = 40
  dimension "d81" = 43.5
  dimension "d82" = 2
  dimension "d83" = 2
  dimension "d84" = 2
  dimension "d85" = 2
extrude "Extrusão6" cut sketch "Esboço8" against normal blind 10
sketch "Esboço9" plane through (0, 0, 0) normal (-1, 0, 0) x (0, 0, 1)
  line L0 (-14, 210) -> (-18, 210)
  line L1 (-18, 210) -> (-18, 190)
  line L2 (-18, 190) -> (-14, 190)
  line L3 (-14, 190) -> (-14, 210)
  line L4 (-4, 220) -> (-133.5, 220) projected
  line L5 (0, 139) -> (0, 216) projected
  line L6 (-18, 145) -> (-14, 145)
  line L7 (-14, 145) -> (-14, 165)
  line L8 (-14, 165) -> (-18, 165)
  line L9 (-18, 165) -> (-18, 145)
  circle A0 centre (-18, 210) radius 1
  circle A1 centre (-14, 210) radius 1
  circle A2 centre (-18, 190) radius 1
  circle A3 centre (-14, 190) radius 1
  circle A4 centre (-18, 165) radius 1
  circle A5 centre (-14, 165) radius 1
  circle A6 centre (-18, 145) radius 1
  circle A7 centre (-14, 145) radius 1
  point P0 (0, 0)
  dimension "d88" = 4
  dimension "d89" = 10
  dimension "d90" = 14
  dimension "d91" = 20
  dimension "d92" = 20
  dimension "d93" = 25
  dimension "d94" = 2
  dimension "d95" = 2
  dimension "d96" = 2
  dimension "d97" = 2
  dimension "d98" = 2
  dimension "d99" = 2
  dimension "d100" = 2
  dimension "d103" = 4
  dimension "d104" = 14
extrude "Extrusão7" cut sketch "Esboço9" against normal blind 10
sketch "Esboço10" plane through (0, 0, 0) normal (-1, 0, 0) x (0, 0, 1)
  line L0 (-28, 149) -> (-44.5, 149)
  line L1 (-44.5, 149) -> (-44.5, 145)
  line L2 (-44.5, 145) -> (-28, 145)
  line L3 (-28, 145) -> (-28, 149)
  line L4 (-37.9156, 135) -> (-4, 135) projected
  line L5 (0, 139) -> (0, 216) projected
  circle A0 centre (-44.5, 149) radius 1
  circle A1 centre (-44.5, 145) radius 1
  circle A2 centre (-28, 149) radius 1
  circle A3 centre (-28, 145) radius 1
  point P0 (0, 0)
  dimension "d105" = 16.5
  dimension "d106" = 4
  dimension "d107" = 10
  dimension "d108" = 28
  dimension "d109" = 2
  dimension "d110" = 2
  dimension "d111" = 2
  dimension "d112" = 2
extrude "Extrusão8" cut sketch "Esboço10" against normal blind 10
sketch "Esboço11" plane through (0, 0, 0) normal (-1, 0, 0) x (0, 0, 1)
  line L0 (0, 139) -> (0, 216) projected
  line L1 (-4, 220) -> (-133.5, 220) projected
  line L2 (-137.5, 126) -> (-137.5, 42) projected
  line L3 (-82.61, 132.568) -> (-80.292, 129.308)
  line L4 (-80.292, 129.308) -> (-59.9175, 143.7952)
  line L5 (-59.9175, 143.7952) -> (-62.2355, 147.0552)
  line L6 (-62.2355, 147.0552) -> (-82.61, 132.568)
  line L7 (-103.7995, 117.5013) -> (-101.4815, 114.2413)
  line L8 (-101.4815, 114.2413) -> (-121.8561, 99.7542)
  line L9 (-121.8561, 99.7542) -> (-124.1741, 103.0142)
  line L10 (-124.1741, 103.0142) -> (-103.7995, 117.5013)
  circle A0 centre (-82.61, 132.568) radius 1
  circle A1 centre (-80.292, 129.308) radius 1
  circle A2 centre (-59.9175, 143.7952) radius 1
  circle A3 centre (-62.2355, 147.0552) radius 1
  circle A4 centre (-103.7995, 117.5013) radius 1
  circle A5 centre (-101.4815, 114.2413) radius 1
  circle A6 centre (-124.1741, 103.0142) radius 1
  circle A7 centre (-121.8561, 99.7542) radius 1
  point P0 (0, 0)
  dimension "d115" = 82.61
  dimension "d116" = 87.432
  dimension "d117" = 90.692
  dimension "d118" = 57.208
  dimension "d119" = 25
  dimension "d120" = 26
  dimension "d121" = 25
  dimension "d122" = 2
  dimension "d123" = 2
  dimension "d124" = 2
  dimension "d125" = 2
  dimension "d126" = 2
  dimension "d127" = 2
  dimension "d128" = 2
  dimension "d129" = 2
extrude "Extrusão9" cut sketch "Esboço11" against normal blind 10
sketch "Esboço12" plane through (0, 0, 0) normal (-1, 0, 0) x (0, 0, 1)
  line L0 (70.5, -210) -> (19.5, -210)
  line L1 (19.5, -210) -> (19.5, -202)
  line L2 (19.5, -202) -> (70.5, -202)
  line L3 (70.5, -202) -> (70.5, -210)
  line L4 (137.5, -216) -> (137.5, -143.6953) projected
  line L5 (-133.5, -220) -> (133.5, -220) projected
  line L6 (-33.5, -202) -> (-84.5, -202)
  line L7 (-84.5, -202) -> (-84.5, -210)
  line L8 (-84.5, -210) -> (-33.5, -210)
  line L9 (-33.5, -210) -> (-33.5, -202)
  circle A0 centre (-84.5, -202) radius 1
  circle A1 centre (-84.5, -210) radius 1
  circle A2 centre (-33.5, -210) radius 1
  circle A3 centre (-33.5, -202) radius 1
  circle A4 centre (19.5, -202) radius 1
  circle A5 centre (19.5, -210) radius 1
  circle A6 centre (70.5, -210) radius 1
  circle A7 centre (70.5, -202) radius 1
  point P0 (0, 0)
  dimension "d132" = 8
  dimension "d133" = 67
  dimension "d134" = 10
  dimension "d135" = 51
  dimension "d136" = 51
  dimension "d137" = 53
  dimension "d138" = 2
  dimension "d139" = 2
  dimension "d140" = 2
  dimension "d141" = 2
  dimension "d142" = 2
  dimension "d143" = 2
extrude "Extrusão10" cut sketch "Esboço12" against normal blind 10
properties part number "lateral"
